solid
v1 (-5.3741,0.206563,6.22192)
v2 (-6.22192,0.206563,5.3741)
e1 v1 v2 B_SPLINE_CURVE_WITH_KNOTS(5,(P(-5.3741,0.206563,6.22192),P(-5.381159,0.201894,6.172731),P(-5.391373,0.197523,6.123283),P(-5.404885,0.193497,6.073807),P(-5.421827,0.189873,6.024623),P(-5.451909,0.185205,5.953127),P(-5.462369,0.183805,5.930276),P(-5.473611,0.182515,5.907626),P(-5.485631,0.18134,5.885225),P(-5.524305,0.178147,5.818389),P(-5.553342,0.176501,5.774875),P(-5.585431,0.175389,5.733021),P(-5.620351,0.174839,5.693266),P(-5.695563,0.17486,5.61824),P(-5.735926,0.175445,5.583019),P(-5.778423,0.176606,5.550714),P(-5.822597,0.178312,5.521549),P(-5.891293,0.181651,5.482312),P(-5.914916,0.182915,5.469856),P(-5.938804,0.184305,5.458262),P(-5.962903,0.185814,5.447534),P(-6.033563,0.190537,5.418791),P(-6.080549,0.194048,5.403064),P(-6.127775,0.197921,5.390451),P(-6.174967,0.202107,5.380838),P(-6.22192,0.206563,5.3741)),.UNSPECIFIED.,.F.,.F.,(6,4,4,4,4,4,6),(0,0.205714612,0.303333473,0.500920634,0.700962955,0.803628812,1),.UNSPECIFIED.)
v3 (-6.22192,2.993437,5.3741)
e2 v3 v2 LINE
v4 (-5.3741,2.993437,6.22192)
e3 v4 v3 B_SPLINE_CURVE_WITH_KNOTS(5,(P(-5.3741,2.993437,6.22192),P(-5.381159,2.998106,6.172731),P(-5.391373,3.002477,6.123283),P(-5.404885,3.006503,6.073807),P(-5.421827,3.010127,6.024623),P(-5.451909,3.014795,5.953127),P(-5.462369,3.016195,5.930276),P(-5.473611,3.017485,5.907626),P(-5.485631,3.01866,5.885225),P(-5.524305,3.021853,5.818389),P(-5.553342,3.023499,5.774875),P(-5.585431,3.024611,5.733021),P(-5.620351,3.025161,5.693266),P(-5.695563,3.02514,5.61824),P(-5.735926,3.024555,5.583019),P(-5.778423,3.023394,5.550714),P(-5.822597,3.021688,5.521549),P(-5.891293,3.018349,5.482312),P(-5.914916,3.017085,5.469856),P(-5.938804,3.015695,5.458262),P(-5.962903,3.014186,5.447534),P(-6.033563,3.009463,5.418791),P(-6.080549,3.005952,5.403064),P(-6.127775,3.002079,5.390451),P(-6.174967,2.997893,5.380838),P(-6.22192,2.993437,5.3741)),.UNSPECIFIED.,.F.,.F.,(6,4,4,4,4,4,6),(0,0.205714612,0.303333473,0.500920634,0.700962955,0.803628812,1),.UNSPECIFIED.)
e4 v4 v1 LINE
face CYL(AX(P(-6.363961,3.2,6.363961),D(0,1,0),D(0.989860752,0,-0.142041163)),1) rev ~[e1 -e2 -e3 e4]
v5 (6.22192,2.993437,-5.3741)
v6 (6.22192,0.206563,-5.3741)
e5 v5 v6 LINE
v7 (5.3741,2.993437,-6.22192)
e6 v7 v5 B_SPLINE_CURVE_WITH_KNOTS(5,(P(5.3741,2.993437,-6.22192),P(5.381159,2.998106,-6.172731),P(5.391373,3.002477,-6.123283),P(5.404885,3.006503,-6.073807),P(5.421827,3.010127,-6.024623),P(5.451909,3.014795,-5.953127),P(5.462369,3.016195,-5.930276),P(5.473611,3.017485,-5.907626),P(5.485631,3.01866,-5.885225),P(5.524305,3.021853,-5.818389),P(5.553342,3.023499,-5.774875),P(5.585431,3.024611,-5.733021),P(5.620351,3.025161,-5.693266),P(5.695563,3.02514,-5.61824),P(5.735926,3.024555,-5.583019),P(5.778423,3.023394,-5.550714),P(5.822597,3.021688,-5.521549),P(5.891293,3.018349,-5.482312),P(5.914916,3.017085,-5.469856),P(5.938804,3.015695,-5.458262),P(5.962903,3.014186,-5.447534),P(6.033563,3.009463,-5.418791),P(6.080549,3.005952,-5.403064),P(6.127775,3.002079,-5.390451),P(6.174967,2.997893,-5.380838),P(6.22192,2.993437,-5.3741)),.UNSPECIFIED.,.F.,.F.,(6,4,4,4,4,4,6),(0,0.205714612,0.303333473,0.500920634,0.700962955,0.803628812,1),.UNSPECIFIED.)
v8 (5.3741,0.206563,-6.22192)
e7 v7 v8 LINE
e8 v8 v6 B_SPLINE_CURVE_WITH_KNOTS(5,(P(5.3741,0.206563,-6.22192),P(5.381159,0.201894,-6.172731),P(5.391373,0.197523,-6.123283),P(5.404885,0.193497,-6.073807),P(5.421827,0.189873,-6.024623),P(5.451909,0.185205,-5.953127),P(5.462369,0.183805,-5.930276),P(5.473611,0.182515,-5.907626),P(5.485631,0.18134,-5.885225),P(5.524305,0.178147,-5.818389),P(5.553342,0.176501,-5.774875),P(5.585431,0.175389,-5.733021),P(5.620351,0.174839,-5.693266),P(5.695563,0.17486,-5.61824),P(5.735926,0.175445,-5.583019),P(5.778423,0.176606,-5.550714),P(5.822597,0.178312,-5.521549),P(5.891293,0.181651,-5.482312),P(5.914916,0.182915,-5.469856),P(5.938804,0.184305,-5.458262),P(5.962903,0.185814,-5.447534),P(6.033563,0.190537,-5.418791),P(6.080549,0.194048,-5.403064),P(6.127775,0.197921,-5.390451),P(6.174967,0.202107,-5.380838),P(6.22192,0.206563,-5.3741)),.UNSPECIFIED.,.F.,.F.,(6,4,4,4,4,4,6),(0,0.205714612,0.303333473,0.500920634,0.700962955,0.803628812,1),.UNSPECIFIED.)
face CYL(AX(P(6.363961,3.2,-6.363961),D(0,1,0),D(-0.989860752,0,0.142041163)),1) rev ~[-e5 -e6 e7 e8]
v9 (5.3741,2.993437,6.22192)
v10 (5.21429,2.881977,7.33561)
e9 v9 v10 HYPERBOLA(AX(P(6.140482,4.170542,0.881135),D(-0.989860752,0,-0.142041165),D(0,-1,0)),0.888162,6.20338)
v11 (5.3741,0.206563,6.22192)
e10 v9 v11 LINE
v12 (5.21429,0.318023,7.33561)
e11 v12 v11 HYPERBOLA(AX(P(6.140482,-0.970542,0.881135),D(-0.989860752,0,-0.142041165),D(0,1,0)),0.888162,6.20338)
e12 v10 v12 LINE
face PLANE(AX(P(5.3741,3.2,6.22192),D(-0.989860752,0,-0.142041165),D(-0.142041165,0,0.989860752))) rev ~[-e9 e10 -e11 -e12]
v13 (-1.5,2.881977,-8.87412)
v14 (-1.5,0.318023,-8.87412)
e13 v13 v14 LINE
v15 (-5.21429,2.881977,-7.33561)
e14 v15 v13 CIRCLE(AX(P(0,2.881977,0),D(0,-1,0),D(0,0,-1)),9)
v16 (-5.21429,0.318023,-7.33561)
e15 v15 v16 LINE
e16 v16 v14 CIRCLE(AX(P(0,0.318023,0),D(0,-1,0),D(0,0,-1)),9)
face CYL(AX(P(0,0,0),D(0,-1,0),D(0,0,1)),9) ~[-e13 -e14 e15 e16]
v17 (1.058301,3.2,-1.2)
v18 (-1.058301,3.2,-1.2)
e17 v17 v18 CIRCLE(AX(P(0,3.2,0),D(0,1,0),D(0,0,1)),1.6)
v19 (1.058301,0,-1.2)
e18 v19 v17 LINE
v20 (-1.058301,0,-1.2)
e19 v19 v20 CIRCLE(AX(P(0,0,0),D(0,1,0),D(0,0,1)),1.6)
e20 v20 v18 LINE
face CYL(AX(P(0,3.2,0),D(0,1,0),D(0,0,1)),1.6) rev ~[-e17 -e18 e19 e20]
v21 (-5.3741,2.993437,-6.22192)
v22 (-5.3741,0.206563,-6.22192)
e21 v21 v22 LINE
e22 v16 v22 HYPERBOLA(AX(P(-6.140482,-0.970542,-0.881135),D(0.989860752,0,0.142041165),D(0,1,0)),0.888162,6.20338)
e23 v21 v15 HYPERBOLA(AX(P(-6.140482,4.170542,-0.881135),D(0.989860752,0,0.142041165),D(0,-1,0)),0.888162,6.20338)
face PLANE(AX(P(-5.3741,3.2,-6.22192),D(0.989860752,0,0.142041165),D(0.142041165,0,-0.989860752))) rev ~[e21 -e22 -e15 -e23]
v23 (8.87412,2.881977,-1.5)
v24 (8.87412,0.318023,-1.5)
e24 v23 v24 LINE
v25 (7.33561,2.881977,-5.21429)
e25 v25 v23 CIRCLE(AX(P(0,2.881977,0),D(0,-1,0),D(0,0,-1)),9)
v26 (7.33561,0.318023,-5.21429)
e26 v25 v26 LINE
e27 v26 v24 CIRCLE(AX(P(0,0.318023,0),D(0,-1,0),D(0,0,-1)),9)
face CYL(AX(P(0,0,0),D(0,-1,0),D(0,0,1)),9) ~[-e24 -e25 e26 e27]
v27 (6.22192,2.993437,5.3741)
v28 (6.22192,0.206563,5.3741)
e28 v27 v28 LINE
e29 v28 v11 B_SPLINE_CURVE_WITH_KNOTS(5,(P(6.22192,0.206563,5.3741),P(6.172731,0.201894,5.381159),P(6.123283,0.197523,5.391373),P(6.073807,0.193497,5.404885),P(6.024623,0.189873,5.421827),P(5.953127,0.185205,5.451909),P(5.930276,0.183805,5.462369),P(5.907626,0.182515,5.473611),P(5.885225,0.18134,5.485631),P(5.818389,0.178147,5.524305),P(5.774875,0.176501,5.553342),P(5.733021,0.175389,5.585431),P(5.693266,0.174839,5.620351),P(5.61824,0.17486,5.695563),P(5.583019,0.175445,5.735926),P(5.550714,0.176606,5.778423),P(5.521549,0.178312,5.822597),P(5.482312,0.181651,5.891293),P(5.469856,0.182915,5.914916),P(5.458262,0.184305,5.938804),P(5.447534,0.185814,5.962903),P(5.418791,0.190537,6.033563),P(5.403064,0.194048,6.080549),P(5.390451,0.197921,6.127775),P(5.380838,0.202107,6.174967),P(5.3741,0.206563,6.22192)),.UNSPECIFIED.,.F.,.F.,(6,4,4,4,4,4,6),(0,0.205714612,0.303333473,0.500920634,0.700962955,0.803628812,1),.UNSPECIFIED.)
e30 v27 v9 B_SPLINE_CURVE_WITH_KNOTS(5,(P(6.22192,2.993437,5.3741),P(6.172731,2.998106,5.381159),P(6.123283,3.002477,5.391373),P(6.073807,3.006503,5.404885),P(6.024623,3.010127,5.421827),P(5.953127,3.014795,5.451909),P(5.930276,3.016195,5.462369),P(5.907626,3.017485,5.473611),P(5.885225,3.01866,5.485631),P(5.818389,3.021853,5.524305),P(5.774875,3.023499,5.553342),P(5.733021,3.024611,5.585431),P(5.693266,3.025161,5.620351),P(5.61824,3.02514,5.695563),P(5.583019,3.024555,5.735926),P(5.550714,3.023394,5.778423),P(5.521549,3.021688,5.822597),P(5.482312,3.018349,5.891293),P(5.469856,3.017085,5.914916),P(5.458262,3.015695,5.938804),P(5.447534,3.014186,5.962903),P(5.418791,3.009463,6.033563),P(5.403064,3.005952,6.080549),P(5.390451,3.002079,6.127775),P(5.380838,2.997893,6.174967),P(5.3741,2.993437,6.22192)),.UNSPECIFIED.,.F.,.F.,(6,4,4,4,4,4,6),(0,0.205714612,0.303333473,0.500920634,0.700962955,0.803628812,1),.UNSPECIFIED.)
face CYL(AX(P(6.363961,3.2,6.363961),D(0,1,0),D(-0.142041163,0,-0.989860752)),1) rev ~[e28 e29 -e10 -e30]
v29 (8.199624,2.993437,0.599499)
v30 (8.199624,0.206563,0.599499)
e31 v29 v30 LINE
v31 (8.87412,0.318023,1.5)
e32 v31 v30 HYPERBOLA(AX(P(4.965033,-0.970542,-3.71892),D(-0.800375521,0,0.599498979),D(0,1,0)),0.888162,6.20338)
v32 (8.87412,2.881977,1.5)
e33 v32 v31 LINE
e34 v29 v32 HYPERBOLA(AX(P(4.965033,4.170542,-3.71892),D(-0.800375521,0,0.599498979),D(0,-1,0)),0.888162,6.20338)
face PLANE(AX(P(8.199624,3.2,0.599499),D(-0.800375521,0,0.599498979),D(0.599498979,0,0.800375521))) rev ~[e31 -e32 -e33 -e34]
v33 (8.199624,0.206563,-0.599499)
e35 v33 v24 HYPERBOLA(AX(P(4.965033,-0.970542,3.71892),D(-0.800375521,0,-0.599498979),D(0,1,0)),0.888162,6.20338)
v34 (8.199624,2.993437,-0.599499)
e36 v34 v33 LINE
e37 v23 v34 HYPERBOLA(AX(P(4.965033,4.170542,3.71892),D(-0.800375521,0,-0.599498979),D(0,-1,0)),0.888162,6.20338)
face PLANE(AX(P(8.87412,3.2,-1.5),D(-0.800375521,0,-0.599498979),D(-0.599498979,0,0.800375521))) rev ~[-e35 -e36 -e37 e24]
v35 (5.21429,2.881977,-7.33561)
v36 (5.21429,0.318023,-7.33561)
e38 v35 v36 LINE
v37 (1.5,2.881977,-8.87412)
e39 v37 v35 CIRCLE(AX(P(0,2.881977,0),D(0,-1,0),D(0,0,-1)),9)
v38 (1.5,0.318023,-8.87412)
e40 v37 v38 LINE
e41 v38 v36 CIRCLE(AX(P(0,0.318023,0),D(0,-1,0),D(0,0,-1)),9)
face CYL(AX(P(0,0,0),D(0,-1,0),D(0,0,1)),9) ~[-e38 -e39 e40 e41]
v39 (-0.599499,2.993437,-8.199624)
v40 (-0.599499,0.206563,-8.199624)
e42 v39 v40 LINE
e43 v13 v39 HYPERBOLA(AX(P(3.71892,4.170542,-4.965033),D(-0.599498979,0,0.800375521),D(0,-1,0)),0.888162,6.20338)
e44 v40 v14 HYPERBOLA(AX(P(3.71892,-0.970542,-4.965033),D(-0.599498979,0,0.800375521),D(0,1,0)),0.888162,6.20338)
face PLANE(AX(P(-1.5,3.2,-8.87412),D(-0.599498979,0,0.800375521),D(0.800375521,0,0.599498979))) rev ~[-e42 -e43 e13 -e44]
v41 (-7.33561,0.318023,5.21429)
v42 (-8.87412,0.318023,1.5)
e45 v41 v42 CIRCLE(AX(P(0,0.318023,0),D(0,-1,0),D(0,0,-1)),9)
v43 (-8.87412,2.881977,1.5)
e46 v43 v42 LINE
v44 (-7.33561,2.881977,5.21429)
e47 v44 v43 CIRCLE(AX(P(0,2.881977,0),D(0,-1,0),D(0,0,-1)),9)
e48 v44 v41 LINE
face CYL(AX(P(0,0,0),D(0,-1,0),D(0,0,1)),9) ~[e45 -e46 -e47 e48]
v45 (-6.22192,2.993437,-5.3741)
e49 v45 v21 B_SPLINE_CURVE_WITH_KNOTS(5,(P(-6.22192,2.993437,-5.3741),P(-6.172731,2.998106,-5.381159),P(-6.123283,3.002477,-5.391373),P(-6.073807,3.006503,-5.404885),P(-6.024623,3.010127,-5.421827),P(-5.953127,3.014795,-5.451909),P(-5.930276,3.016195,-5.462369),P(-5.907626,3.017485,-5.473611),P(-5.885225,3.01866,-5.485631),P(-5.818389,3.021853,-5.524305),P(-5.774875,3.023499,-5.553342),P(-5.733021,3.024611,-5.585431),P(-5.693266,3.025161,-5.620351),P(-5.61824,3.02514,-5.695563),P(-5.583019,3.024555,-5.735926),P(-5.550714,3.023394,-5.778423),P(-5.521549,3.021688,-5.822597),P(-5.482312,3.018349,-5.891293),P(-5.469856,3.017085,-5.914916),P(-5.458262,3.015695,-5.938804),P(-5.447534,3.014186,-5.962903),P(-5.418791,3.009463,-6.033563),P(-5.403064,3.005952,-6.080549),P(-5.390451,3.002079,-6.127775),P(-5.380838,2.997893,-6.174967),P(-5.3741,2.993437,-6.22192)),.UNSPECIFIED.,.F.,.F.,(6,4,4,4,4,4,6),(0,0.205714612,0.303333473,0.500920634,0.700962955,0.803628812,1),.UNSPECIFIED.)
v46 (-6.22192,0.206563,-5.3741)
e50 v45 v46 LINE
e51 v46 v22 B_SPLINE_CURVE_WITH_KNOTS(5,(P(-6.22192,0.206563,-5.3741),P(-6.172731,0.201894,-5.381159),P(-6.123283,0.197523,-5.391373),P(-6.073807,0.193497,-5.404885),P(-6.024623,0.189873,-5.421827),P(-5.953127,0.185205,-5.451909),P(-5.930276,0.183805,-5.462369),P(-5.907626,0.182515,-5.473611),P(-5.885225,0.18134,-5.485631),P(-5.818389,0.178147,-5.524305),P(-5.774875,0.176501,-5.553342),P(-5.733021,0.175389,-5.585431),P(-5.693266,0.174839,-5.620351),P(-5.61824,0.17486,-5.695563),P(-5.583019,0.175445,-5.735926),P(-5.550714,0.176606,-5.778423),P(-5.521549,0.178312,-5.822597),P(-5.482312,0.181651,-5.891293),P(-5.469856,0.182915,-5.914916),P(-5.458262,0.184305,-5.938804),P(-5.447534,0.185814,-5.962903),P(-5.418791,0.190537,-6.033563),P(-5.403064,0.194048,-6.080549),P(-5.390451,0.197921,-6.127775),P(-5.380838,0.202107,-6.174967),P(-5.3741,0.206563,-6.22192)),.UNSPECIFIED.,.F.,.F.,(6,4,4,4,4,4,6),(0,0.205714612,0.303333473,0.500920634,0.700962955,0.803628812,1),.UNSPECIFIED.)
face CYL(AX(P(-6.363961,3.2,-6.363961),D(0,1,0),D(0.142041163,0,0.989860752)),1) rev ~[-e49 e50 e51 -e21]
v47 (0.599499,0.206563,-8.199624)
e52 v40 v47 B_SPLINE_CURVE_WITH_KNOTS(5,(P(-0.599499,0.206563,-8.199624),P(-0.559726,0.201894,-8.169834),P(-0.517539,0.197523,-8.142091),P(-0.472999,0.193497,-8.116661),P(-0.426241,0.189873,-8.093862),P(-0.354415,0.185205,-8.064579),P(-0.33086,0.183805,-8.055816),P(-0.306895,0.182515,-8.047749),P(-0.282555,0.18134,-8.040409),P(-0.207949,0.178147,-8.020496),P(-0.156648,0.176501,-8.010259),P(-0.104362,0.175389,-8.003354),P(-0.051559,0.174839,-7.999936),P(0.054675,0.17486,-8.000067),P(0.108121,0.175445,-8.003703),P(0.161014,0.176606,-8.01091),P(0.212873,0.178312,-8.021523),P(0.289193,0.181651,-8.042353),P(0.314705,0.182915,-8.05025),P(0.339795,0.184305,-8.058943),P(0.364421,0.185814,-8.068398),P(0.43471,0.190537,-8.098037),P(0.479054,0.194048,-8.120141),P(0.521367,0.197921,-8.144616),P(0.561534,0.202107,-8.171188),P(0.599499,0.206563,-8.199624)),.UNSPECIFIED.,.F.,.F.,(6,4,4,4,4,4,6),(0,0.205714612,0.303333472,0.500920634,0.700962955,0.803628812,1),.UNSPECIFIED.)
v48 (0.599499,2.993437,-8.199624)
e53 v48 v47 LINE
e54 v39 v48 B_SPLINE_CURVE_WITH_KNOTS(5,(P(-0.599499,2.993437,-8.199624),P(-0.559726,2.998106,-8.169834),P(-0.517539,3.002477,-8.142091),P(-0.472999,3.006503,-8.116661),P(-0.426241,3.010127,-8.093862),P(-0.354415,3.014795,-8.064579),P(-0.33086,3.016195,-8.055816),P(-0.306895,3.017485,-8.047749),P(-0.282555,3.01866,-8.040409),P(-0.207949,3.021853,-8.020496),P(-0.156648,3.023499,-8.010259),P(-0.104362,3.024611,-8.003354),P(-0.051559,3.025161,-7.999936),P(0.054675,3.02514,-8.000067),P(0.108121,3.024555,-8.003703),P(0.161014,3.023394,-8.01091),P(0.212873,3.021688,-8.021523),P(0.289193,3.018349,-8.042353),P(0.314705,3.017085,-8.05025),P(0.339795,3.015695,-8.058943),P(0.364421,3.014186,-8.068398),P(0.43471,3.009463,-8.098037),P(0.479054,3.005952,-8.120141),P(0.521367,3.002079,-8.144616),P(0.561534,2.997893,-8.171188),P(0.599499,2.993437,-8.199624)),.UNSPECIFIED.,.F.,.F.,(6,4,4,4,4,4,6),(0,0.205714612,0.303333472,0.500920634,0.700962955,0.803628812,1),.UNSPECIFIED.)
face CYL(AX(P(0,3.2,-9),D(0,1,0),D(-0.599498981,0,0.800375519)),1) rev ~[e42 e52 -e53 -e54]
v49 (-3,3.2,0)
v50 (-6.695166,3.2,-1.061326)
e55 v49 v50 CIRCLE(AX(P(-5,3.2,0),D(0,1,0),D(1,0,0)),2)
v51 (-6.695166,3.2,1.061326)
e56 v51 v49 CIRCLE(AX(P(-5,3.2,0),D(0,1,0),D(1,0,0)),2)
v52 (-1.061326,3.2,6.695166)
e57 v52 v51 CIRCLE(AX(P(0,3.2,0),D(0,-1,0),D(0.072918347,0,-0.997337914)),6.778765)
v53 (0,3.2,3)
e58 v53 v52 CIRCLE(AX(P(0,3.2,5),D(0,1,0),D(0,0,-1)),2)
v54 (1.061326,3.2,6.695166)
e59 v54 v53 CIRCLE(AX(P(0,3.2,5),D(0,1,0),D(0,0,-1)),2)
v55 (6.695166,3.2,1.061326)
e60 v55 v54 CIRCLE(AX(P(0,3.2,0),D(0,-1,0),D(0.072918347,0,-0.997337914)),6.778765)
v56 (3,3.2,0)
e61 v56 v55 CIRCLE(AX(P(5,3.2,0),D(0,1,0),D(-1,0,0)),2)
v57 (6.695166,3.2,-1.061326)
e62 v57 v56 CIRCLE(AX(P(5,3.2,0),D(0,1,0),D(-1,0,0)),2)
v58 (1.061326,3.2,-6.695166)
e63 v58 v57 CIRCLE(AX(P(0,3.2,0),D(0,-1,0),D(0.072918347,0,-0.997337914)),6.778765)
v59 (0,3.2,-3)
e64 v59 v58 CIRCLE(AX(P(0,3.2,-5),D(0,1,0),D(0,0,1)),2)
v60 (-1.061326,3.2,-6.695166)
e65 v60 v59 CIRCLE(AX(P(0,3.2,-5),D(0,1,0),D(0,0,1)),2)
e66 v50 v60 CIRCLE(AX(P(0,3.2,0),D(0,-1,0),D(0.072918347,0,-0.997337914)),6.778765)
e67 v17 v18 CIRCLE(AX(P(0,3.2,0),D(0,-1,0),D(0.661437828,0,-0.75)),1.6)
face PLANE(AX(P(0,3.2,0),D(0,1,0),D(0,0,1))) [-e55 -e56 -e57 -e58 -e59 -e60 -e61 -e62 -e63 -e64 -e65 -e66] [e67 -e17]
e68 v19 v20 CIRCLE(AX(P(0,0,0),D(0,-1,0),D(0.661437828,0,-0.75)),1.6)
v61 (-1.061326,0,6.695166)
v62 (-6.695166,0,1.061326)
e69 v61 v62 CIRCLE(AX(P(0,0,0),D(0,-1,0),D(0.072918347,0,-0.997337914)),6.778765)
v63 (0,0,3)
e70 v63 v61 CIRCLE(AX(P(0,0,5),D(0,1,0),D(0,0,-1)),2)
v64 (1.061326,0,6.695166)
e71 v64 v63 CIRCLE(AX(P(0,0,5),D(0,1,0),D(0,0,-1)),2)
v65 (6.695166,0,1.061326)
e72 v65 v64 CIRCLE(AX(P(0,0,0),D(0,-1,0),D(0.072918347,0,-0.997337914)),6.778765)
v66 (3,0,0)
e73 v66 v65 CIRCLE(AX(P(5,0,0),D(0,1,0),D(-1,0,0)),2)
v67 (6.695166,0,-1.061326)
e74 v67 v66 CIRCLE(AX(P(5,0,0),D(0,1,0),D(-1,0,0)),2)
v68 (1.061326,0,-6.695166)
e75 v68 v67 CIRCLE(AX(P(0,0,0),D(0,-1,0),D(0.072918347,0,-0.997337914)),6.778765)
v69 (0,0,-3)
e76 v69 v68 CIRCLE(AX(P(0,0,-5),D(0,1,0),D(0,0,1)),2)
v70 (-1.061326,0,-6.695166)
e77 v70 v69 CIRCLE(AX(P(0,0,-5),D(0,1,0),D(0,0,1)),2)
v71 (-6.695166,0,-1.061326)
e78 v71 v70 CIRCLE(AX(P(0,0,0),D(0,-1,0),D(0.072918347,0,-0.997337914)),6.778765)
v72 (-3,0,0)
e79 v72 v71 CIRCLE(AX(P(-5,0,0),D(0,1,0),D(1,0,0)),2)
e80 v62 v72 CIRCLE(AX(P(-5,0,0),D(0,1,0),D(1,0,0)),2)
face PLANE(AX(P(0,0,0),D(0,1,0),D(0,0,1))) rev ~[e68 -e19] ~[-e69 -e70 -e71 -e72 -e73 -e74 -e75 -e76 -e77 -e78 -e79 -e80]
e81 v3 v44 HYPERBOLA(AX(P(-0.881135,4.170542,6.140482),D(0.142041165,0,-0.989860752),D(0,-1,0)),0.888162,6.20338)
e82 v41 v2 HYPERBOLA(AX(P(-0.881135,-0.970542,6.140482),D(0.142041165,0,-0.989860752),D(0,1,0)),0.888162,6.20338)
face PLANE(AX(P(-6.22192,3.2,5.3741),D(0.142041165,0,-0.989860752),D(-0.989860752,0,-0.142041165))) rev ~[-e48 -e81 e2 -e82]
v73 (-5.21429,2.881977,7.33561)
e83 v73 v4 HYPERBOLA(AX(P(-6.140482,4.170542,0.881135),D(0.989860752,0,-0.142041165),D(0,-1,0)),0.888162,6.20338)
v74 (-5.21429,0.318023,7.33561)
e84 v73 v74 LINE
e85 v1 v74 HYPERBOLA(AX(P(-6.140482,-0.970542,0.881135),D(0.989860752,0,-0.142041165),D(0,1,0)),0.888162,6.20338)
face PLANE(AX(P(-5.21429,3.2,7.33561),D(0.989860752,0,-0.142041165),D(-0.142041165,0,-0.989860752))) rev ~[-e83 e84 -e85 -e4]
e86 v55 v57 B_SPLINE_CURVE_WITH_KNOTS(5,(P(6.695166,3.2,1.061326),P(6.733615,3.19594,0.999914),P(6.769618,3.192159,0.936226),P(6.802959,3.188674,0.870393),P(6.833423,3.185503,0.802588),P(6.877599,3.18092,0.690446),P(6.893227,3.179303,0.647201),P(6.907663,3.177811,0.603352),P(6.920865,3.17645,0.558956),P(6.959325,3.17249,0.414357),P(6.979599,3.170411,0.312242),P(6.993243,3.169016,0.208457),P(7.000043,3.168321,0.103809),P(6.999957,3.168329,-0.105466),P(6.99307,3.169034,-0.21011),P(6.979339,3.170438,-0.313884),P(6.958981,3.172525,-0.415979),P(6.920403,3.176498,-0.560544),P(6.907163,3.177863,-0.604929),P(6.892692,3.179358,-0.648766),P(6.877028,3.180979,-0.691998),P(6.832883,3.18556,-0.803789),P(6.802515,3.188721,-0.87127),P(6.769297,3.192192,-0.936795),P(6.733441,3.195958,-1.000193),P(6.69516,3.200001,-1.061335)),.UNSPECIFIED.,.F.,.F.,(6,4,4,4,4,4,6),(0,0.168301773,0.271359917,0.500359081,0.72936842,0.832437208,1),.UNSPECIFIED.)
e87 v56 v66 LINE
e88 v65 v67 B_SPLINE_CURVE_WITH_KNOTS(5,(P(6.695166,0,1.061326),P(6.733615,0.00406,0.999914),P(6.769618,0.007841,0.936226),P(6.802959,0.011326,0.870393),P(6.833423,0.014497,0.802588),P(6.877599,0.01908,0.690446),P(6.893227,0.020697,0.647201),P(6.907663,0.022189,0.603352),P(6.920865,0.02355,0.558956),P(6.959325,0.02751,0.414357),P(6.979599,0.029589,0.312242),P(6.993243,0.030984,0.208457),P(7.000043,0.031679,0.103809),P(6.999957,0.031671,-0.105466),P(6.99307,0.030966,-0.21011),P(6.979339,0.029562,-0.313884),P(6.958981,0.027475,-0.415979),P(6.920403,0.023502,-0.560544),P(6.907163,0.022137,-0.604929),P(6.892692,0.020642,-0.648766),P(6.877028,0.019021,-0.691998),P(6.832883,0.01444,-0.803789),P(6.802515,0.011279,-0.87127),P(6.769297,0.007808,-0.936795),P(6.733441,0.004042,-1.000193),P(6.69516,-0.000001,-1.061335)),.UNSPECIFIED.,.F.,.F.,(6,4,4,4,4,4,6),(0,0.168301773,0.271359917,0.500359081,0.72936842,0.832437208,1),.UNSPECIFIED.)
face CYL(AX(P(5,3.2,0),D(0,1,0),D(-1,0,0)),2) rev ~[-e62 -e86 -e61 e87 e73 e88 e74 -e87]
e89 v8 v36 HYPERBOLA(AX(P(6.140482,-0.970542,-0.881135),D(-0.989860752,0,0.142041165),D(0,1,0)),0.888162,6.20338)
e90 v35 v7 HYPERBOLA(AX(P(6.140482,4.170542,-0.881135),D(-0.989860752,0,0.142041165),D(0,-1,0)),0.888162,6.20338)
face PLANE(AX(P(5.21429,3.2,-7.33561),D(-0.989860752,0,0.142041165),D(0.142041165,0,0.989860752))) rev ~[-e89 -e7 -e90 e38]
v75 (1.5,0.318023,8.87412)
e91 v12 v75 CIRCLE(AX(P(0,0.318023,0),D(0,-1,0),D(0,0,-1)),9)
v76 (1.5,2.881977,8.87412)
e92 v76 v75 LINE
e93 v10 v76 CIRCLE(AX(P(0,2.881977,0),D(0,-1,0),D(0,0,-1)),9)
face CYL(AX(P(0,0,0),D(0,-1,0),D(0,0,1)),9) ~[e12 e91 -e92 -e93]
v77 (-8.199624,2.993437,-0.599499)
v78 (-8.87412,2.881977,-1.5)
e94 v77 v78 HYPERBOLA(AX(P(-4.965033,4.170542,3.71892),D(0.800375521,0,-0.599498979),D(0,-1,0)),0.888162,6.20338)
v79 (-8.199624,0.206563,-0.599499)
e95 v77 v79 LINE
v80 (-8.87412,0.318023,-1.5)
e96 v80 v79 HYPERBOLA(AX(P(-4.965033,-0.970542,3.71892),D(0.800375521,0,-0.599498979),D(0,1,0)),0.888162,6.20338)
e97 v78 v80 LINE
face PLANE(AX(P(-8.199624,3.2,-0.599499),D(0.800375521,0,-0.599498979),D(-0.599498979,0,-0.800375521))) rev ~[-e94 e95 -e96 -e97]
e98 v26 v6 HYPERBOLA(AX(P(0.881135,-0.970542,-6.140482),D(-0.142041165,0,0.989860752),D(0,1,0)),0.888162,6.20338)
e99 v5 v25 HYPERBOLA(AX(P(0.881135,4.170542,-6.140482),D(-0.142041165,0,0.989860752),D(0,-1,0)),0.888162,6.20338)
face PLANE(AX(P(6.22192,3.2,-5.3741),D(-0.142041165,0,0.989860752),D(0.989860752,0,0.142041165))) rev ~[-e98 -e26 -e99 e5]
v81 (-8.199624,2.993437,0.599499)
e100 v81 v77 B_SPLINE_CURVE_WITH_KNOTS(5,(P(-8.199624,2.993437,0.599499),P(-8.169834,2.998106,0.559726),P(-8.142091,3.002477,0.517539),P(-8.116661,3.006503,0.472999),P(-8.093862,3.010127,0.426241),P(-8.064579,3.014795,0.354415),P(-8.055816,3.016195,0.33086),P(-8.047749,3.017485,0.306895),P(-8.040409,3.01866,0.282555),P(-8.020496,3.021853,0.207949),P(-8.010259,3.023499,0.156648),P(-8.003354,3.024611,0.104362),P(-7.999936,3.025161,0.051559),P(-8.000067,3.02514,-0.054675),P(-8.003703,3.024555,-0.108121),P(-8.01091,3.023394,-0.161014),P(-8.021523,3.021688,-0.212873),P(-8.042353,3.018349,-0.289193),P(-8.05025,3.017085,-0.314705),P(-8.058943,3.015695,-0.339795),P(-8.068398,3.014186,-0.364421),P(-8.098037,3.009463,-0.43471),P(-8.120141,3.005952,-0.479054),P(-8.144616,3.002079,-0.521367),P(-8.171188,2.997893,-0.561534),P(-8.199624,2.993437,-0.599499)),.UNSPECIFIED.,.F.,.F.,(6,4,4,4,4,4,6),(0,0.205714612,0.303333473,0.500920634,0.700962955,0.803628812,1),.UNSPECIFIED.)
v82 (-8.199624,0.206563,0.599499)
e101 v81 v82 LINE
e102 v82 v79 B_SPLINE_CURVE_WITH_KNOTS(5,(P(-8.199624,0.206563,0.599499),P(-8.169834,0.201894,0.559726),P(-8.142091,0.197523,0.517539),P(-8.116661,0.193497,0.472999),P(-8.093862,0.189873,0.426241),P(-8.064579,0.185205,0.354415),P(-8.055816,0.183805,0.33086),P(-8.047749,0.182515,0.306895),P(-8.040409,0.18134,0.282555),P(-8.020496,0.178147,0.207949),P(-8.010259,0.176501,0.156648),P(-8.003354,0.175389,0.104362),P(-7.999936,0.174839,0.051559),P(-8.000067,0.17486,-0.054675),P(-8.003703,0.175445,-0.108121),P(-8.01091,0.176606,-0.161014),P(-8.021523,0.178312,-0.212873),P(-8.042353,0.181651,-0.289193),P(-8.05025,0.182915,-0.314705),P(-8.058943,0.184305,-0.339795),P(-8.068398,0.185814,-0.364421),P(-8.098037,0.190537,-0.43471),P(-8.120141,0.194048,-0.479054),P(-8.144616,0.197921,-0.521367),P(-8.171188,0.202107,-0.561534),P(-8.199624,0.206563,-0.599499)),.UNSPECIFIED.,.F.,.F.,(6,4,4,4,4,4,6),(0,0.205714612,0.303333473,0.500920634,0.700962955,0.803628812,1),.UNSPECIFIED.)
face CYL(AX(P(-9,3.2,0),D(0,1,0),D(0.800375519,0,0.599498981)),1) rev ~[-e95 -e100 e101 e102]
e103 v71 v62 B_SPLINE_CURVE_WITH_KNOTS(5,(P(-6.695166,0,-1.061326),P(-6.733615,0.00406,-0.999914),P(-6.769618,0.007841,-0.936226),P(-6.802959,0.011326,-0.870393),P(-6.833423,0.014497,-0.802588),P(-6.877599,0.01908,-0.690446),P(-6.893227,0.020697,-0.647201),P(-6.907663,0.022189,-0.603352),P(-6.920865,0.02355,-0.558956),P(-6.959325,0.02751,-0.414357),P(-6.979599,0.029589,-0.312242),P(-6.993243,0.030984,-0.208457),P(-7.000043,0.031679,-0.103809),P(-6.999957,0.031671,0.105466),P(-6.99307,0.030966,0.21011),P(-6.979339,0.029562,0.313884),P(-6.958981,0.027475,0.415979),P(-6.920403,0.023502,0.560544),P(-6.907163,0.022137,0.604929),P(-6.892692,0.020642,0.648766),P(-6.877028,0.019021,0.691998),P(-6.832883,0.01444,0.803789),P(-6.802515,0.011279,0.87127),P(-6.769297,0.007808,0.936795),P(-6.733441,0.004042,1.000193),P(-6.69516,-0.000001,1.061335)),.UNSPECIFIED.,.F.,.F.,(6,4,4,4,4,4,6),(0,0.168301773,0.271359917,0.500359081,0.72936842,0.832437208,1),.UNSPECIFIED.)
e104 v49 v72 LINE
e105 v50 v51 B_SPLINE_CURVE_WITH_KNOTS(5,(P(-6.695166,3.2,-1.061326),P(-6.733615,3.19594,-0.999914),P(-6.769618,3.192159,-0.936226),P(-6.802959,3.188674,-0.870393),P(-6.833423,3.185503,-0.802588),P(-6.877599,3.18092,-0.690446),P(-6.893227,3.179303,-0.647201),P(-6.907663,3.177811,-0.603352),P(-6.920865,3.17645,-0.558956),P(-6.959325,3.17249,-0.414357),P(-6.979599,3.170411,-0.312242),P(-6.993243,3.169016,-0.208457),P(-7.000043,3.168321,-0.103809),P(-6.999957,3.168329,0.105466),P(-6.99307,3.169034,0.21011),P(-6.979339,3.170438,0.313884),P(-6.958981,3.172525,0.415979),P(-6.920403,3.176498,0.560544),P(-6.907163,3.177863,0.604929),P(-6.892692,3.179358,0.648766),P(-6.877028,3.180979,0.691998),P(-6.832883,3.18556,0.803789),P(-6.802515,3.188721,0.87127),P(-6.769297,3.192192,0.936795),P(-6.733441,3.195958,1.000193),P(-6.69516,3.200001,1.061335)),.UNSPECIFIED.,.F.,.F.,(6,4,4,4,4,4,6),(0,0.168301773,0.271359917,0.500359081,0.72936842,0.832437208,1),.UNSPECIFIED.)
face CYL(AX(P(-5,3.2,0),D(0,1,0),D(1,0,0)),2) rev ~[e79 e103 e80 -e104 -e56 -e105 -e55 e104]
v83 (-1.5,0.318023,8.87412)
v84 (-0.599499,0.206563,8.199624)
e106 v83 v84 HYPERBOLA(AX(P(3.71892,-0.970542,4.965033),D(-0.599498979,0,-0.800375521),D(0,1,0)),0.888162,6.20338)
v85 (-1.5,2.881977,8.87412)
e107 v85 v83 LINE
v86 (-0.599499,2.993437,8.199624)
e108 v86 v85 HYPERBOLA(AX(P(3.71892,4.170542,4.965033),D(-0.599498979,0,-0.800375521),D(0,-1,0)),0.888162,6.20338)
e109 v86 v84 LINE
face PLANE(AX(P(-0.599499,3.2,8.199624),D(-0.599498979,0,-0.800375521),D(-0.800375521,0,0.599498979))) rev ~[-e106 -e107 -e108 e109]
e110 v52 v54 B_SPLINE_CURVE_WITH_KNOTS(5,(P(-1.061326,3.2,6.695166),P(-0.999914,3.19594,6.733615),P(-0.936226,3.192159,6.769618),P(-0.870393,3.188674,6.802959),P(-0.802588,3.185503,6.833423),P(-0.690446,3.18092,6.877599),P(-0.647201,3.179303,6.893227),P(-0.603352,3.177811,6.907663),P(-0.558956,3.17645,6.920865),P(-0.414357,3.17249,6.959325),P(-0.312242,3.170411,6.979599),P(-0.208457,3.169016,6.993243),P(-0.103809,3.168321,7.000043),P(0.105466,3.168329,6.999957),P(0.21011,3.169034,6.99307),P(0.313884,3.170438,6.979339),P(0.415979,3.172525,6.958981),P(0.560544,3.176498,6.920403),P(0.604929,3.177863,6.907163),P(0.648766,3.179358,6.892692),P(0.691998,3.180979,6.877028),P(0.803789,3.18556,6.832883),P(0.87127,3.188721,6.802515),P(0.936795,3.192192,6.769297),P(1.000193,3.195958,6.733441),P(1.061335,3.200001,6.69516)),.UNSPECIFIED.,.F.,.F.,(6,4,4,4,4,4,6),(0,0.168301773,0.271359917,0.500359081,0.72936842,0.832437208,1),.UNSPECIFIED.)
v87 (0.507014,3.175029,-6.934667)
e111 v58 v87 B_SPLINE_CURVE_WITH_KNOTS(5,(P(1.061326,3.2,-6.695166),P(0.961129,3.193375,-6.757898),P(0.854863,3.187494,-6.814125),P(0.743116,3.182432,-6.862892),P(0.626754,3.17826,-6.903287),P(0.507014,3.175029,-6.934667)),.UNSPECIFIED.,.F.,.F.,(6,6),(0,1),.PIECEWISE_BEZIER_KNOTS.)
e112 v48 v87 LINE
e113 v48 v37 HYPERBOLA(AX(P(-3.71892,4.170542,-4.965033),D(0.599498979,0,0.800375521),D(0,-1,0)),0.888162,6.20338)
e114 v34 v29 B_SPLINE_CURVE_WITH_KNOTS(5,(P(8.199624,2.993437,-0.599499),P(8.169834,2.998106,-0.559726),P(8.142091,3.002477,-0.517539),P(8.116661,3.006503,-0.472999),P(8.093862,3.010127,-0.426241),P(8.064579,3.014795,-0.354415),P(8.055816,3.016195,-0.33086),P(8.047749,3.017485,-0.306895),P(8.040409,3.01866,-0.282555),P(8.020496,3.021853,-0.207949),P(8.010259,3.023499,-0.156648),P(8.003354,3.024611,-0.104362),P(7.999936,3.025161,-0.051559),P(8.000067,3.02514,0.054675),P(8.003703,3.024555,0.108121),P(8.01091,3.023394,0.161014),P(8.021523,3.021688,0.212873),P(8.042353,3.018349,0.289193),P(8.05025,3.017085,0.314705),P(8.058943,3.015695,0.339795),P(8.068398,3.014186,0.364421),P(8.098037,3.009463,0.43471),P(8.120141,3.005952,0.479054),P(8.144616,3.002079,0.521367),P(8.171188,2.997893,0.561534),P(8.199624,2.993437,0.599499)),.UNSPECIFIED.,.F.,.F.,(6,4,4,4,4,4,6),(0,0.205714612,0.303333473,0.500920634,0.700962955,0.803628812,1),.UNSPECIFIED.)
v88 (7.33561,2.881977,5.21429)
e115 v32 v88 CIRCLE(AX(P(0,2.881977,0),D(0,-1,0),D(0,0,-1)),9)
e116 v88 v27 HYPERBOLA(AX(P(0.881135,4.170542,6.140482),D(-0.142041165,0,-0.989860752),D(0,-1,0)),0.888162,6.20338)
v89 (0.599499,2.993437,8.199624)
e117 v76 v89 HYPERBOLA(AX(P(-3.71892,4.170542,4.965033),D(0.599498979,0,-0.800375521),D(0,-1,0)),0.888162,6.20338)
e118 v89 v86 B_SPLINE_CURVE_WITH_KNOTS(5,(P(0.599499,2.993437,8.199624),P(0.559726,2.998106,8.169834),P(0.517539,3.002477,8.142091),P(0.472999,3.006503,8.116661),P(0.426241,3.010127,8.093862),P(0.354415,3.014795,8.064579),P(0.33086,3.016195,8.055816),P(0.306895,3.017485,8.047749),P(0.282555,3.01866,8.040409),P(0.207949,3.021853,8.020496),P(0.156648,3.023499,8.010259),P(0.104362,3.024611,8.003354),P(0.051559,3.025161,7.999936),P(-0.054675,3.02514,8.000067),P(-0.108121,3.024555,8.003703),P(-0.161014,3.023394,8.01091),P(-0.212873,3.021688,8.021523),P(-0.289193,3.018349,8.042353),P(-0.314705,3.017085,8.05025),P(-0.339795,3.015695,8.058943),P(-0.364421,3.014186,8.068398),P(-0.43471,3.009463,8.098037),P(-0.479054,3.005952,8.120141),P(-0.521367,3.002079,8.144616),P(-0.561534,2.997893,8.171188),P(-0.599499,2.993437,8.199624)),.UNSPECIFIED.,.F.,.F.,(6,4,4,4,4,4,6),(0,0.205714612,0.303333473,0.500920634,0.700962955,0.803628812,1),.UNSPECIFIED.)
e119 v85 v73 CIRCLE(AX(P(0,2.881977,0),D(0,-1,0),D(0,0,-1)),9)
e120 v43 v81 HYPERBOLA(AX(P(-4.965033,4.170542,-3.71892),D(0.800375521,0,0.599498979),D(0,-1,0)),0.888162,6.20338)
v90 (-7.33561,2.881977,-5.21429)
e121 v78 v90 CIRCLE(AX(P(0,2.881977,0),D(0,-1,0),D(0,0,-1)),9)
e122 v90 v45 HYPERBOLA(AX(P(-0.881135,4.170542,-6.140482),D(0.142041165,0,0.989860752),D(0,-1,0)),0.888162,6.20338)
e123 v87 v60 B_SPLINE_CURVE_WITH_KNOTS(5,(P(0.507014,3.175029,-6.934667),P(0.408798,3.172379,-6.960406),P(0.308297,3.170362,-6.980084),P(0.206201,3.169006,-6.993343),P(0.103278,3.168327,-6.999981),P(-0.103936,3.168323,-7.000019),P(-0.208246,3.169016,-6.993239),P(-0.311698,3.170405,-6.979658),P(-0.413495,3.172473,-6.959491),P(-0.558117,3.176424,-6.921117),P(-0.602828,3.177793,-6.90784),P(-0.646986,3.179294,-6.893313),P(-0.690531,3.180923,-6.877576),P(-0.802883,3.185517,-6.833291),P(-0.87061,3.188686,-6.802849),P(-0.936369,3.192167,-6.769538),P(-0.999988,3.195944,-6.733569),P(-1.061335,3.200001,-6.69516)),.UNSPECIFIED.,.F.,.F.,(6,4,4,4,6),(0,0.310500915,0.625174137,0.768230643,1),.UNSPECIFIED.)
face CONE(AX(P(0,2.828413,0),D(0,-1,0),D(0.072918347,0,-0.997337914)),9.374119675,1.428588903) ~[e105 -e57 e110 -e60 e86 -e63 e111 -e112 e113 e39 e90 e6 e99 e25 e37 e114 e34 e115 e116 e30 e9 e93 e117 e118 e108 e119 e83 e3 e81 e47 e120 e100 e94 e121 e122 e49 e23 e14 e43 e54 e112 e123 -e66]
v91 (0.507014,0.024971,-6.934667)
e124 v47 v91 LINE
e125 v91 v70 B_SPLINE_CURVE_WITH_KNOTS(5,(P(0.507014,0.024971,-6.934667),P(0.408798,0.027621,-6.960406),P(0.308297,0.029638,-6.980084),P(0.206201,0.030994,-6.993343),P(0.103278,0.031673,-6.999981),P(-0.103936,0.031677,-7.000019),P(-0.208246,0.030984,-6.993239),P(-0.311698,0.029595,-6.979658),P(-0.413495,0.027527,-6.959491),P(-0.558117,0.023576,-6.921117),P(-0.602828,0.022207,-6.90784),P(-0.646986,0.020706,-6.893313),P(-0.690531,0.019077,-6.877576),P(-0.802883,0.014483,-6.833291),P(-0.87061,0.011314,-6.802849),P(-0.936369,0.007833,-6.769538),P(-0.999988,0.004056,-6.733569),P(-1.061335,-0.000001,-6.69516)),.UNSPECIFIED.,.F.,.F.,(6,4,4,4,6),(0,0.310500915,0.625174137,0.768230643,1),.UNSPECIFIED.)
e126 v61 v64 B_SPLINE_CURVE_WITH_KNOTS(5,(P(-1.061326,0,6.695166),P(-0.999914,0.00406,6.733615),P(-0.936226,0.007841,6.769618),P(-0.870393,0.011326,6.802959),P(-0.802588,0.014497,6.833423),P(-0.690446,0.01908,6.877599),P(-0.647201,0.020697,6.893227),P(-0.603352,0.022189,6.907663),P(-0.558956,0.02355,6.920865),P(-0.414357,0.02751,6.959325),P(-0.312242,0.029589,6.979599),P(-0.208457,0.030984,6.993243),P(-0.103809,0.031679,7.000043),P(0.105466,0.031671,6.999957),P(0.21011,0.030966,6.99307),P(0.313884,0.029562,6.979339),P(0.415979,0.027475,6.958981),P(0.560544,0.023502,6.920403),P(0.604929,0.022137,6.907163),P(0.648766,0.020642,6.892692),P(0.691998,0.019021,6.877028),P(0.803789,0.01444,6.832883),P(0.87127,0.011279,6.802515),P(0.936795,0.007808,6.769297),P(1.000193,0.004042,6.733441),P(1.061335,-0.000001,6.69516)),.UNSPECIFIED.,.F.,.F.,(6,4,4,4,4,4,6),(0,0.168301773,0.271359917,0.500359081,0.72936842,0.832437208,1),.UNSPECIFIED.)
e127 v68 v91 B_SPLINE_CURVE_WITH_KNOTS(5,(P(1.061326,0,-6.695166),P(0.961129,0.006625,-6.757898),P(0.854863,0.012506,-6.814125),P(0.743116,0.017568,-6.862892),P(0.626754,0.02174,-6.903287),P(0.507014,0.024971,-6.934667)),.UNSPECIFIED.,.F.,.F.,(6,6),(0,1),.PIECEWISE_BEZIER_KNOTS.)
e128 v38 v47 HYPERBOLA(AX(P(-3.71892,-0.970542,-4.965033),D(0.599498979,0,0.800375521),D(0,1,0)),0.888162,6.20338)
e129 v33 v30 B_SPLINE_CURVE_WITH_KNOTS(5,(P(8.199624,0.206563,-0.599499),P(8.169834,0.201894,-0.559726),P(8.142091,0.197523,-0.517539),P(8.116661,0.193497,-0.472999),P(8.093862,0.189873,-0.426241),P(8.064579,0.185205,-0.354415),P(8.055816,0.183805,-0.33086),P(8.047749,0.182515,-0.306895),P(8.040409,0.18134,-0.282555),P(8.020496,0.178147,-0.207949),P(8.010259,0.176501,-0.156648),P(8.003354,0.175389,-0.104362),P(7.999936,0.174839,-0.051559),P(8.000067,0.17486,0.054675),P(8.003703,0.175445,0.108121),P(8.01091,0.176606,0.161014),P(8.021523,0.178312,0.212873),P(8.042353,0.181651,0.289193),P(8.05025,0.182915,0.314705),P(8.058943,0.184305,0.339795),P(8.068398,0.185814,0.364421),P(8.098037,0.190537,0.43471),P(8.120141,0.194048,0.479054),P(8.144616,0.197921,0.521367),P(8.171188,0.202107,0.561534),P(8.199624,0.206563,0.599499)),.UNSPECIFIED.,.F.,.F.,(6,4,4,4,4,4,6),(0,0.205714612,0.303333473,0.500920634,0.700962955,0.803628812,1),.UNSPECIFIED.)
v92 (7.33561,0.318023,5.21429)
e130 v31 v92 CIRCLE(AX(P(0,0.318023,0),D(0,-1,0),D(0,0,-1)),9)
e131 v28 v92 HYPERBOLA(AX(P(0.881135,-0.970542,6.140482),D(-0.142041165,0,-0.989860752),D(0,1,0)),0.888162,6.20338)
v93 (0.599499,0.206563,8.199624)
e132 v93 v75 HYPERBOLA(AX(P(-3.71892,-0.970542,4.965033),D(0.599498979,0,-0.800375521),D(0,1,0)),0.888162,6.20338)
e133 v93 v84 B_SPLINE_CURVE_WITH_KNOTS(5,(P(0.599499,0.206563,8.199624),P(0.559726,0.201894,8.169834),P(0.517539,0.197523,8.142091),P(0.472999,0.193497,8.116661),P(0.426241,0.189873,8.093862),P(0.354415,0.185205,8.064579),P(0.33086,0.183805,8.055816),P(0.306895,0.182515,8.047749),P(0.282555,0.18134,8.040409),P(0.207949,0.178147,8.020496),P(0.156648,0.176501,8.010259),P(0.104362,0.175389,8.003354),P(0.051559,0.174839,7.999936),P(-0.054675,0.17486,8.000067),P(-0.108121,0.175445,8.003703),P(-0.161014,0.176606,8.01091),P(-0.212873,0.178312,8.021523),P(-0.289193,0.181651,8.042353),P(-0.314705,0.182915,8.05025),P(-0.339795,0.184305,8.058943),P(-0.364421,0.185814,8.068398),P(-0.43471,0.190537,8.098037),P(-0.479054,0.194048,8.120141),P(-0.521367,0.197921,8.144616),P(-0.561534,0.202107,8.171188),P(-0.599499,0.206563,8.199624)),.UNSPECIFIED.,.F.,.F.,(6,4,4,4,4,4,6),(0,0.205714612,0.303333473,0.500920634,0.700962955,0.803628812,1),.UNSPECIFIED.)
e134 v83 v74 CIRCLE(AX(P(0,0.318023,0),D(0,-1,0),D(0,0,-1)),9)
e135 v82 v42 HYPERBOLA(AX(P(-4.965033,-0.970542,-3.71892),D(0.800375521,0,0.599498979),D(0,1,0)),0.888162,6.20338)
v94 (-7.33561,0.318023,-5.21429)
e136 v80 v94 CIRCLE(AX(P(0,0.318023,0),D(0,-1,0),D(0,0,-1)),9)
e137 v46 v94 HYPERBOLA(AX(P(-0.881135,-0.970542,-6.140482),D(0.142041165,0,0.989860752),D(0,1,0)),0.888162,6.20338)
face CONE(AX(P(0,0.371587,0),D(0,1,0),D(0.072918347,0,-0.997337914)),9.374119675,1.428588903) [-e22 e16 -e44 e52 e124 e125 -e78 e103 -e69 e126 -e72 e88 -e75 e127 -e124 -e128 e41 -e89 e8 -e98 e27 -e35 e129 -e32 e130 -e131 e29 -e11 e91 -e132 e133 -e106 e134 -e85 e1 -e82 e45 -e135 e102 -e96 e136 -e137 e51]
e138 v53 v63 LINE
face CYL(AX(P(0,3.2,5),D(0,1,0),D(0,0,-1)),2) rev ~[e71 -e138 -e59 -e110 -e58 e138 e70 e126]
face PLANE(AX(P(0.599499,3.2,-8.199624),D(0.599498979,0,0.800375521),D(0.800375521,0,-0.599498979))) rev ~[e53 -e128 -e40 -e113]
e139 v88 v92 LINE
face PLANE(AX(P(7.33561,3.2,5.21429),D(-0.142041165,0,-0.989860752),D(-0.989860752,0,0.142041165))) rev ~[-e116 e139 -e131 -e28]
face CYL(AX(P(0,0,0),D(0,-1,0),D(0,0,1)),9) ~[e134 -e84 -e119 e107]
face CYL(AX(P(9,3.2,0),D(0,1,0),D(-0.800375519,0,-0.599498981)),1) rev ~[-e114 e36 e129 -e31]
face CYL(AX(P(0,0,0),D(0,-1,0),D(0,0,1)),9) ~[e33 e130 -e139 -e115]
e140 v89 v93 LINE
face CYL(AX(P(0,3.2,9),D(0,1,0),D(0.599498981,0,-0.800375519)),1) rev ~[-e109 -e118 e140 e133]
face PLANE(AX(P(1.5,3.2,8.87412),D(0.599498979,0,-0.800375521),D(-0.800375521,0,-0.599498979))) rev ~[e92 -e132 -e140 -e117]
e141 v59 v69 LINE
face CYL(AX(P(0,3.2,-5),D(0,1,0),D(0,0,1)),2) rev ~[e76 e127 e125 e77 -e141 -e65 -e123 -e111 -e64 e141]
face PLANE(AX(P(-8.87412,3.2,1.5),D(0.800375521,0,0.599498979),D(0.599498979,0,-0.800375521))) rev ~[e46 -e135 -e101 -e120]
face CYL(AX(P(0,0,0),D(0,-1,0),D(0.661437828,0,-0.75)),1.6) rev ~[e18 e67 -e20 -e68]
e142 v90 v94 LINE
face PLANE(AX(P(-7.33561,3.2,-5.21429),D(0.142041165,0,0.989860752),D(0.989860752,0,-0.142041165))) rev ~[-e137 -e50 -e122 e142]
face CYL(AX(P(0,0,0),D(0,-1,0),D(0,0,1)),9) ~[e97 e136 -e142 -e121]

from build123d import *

# Parameters (mm, degrees)
SKETCH_1_R               = 9
EXTRUDE_1_DEPTH          = 3.2
CUT_EXTRUDE_2_REACH      = 15.124
PATTERN_CIRCULAR_1_COUNT = 8
CUT_EXTRUDE_1_REACH      = 14.951
SKETCH_3_R               = 2
PATTERN_CIRCULAR_2_COUNT = 4
CUT_EXTRUDE_3_REACH      = 14.951
SKETCH_6_R               = 1.6


with BuildPart() as part:
    # 草图1 → 凸台-拉伸1 (new body)
    with BuildSketch(Plane(origin=(0, 0, 0), x_dir=(1, 0, 0), z_dir=(0, 1, 0))):
        with Locations(Location((0, 0, 0), (0, 0, 270))):
            Circle(SKETCH_1_R)
        with BuildLine():
            Line((-1.058300524, 1.2), (1.058300524, 1.2))
            ThreePointArc((1.058300524, 1.2), (0, -1.6), (-1.058300524, 1.2))
        make_face(mode=Mode.SUBTRACT)
    extrude(amount=EXTRUDE_1_DEPTH)

    # 草图4 → 切除-拉伸2 (cut, up to next)
    with BuildSketch(Plane(origin=(0, 3.2, 0), x_dir=(1, 0, 0), z_dir=(0, 1, 0)), mode=Mode.PRIVATE) as cut_extrude_2_sk1:
        with BuildLine():
            Line((-1.5, 8.874119675), (-0.599498979, 8.19962448))
            ThreePointArc((-0.599498979, 8.19962448), (0, 8), (0.599498979, 8.19962448))
            Line((0.599498979, 8.19962448), (1.5, 8.874119675))
            ThreePointArc((1.5, 8.874119675), (0, 9), (-1.5, 8.874119675))
        make_face()
    cut_extrude_2_tool1 = extrude(cut_extrude_2_sk1.sketch, amount=-CUT_EXTRUDE_2_REACH, mode=Mode.PRIVATE) & part.part
    cut_extrude_2 = cut_extrude_2_tool1.solids().sort_by_distance((0, 3.2, -8.590322))[0]
    add(cut_extrude_2, mode=Mode.SUBTRACT)

    # 阵列(圆周)1: 切除-拉伸2 ×8 about axis
    pattern_circular_1_axis = Axis((0, 0, 0), (0, 1, 0))
    for i in range(1, PATTERN_CIRCULAR_1_COUNT):
        add(cut_extrude_2.rotate(pattern_circular_1_axis, i * 360 / PATTERN_CIRCULAR_1_COUNT), mode=Mode.SUBTRACT)

    # 草图3 → 切除-拉伸1 (cut, up to next)
    with BuildSketch(Plane(origin=(0, 3.2, 0), x_dir=(1, 0, 0), z_dir=(0, 1, 0)), mode=Mode.PRIVATE) as cut_extrude_1_sk1:
        with Locations(Location((0, 5, 0), (0, 0, 270))):
            Circle(SKETCH_3_R)
    cut_extrude_1_tool1 = extrude(cut_extrude_1_sk1.sketch, amount=-CUT_EXTRUDE_1_REACH, mode=Mode.PRIVATE) & part.part
    cut_extrude_1 = cut_extrude_1_tool1.solids().sort_by_distance((0, 3.2, -5))[0]
    add(cut_extrude_1, mode=Mode.SUBTRACT)

    # 阵列(圆周)2: 切除-拉伸1 ×4 about axis
    pattern_circular_2_axis = Axis((0, 0, 0), (0, 1, 0))
    for i in range(1, PATTERN_CIRCULAR_2_COUNT):
        add(cut_extrude_1.rotate(pattern_circular_2_axis, i * 360 / PATTERN_CIRCULAR_2_COUNT), mode=Mode.SUBTRACT)

    # 草图5 → 切除-旋转1 (revolve, cut)
    with BuildSketch(Plane(origin=(0, 0, 0), x_dir=(0, 0, -1), z_dir=(1, 0, 0)), mode=Mode.PRIVATE) as cut_revolve_1_sk:
        Polygon((9.374119675, 2.82841307), (6.778765119, 3.2), (9.374119675, 3.2), align=None)
    cut_revolve_1 = revolve(cut_revolve_1_sk.sketch.rotate(Axis((0, 3.2, 0), (0, -1, 0)), 4.181624795), axis=Axis((0, 3.2, 0), (0, -1, 0)), mode=Mode.SUBTRACT)

    # 镜向1: 切除-旋转1 across plane
    add(cut_revolve_1.mirror(Plane.ZX.offset(1.6)), mode=Mode.SUBTRACT)

    # 草图6 → 切除-拉伸3 (cut, up to next)
    with BuildSketch(Plane(origin=(0, 3.2, 0), x_dir=(1, 0, 0), z_dir=(0, 1, 0)), mode=Mode.PRIVATE) as cut_extrude_3_sk1:
        with Locations(Location((0, 0, 0), (0, 0, 270))):
            Circle(SKETCH_6_R)
    cut_extrude_3_tool1 = extrude(cut_extrude_3_sk1.sketch, amount=-CUT_EXTRUDE_3_REACH, mode=Mode.PRIVATE) & part.part
    add(cut_extrude_3_tool1.solids().sort_by_distance((0, 3.2, 0))[0], mode=Mode.SUBTRACT)


solid = part.part
